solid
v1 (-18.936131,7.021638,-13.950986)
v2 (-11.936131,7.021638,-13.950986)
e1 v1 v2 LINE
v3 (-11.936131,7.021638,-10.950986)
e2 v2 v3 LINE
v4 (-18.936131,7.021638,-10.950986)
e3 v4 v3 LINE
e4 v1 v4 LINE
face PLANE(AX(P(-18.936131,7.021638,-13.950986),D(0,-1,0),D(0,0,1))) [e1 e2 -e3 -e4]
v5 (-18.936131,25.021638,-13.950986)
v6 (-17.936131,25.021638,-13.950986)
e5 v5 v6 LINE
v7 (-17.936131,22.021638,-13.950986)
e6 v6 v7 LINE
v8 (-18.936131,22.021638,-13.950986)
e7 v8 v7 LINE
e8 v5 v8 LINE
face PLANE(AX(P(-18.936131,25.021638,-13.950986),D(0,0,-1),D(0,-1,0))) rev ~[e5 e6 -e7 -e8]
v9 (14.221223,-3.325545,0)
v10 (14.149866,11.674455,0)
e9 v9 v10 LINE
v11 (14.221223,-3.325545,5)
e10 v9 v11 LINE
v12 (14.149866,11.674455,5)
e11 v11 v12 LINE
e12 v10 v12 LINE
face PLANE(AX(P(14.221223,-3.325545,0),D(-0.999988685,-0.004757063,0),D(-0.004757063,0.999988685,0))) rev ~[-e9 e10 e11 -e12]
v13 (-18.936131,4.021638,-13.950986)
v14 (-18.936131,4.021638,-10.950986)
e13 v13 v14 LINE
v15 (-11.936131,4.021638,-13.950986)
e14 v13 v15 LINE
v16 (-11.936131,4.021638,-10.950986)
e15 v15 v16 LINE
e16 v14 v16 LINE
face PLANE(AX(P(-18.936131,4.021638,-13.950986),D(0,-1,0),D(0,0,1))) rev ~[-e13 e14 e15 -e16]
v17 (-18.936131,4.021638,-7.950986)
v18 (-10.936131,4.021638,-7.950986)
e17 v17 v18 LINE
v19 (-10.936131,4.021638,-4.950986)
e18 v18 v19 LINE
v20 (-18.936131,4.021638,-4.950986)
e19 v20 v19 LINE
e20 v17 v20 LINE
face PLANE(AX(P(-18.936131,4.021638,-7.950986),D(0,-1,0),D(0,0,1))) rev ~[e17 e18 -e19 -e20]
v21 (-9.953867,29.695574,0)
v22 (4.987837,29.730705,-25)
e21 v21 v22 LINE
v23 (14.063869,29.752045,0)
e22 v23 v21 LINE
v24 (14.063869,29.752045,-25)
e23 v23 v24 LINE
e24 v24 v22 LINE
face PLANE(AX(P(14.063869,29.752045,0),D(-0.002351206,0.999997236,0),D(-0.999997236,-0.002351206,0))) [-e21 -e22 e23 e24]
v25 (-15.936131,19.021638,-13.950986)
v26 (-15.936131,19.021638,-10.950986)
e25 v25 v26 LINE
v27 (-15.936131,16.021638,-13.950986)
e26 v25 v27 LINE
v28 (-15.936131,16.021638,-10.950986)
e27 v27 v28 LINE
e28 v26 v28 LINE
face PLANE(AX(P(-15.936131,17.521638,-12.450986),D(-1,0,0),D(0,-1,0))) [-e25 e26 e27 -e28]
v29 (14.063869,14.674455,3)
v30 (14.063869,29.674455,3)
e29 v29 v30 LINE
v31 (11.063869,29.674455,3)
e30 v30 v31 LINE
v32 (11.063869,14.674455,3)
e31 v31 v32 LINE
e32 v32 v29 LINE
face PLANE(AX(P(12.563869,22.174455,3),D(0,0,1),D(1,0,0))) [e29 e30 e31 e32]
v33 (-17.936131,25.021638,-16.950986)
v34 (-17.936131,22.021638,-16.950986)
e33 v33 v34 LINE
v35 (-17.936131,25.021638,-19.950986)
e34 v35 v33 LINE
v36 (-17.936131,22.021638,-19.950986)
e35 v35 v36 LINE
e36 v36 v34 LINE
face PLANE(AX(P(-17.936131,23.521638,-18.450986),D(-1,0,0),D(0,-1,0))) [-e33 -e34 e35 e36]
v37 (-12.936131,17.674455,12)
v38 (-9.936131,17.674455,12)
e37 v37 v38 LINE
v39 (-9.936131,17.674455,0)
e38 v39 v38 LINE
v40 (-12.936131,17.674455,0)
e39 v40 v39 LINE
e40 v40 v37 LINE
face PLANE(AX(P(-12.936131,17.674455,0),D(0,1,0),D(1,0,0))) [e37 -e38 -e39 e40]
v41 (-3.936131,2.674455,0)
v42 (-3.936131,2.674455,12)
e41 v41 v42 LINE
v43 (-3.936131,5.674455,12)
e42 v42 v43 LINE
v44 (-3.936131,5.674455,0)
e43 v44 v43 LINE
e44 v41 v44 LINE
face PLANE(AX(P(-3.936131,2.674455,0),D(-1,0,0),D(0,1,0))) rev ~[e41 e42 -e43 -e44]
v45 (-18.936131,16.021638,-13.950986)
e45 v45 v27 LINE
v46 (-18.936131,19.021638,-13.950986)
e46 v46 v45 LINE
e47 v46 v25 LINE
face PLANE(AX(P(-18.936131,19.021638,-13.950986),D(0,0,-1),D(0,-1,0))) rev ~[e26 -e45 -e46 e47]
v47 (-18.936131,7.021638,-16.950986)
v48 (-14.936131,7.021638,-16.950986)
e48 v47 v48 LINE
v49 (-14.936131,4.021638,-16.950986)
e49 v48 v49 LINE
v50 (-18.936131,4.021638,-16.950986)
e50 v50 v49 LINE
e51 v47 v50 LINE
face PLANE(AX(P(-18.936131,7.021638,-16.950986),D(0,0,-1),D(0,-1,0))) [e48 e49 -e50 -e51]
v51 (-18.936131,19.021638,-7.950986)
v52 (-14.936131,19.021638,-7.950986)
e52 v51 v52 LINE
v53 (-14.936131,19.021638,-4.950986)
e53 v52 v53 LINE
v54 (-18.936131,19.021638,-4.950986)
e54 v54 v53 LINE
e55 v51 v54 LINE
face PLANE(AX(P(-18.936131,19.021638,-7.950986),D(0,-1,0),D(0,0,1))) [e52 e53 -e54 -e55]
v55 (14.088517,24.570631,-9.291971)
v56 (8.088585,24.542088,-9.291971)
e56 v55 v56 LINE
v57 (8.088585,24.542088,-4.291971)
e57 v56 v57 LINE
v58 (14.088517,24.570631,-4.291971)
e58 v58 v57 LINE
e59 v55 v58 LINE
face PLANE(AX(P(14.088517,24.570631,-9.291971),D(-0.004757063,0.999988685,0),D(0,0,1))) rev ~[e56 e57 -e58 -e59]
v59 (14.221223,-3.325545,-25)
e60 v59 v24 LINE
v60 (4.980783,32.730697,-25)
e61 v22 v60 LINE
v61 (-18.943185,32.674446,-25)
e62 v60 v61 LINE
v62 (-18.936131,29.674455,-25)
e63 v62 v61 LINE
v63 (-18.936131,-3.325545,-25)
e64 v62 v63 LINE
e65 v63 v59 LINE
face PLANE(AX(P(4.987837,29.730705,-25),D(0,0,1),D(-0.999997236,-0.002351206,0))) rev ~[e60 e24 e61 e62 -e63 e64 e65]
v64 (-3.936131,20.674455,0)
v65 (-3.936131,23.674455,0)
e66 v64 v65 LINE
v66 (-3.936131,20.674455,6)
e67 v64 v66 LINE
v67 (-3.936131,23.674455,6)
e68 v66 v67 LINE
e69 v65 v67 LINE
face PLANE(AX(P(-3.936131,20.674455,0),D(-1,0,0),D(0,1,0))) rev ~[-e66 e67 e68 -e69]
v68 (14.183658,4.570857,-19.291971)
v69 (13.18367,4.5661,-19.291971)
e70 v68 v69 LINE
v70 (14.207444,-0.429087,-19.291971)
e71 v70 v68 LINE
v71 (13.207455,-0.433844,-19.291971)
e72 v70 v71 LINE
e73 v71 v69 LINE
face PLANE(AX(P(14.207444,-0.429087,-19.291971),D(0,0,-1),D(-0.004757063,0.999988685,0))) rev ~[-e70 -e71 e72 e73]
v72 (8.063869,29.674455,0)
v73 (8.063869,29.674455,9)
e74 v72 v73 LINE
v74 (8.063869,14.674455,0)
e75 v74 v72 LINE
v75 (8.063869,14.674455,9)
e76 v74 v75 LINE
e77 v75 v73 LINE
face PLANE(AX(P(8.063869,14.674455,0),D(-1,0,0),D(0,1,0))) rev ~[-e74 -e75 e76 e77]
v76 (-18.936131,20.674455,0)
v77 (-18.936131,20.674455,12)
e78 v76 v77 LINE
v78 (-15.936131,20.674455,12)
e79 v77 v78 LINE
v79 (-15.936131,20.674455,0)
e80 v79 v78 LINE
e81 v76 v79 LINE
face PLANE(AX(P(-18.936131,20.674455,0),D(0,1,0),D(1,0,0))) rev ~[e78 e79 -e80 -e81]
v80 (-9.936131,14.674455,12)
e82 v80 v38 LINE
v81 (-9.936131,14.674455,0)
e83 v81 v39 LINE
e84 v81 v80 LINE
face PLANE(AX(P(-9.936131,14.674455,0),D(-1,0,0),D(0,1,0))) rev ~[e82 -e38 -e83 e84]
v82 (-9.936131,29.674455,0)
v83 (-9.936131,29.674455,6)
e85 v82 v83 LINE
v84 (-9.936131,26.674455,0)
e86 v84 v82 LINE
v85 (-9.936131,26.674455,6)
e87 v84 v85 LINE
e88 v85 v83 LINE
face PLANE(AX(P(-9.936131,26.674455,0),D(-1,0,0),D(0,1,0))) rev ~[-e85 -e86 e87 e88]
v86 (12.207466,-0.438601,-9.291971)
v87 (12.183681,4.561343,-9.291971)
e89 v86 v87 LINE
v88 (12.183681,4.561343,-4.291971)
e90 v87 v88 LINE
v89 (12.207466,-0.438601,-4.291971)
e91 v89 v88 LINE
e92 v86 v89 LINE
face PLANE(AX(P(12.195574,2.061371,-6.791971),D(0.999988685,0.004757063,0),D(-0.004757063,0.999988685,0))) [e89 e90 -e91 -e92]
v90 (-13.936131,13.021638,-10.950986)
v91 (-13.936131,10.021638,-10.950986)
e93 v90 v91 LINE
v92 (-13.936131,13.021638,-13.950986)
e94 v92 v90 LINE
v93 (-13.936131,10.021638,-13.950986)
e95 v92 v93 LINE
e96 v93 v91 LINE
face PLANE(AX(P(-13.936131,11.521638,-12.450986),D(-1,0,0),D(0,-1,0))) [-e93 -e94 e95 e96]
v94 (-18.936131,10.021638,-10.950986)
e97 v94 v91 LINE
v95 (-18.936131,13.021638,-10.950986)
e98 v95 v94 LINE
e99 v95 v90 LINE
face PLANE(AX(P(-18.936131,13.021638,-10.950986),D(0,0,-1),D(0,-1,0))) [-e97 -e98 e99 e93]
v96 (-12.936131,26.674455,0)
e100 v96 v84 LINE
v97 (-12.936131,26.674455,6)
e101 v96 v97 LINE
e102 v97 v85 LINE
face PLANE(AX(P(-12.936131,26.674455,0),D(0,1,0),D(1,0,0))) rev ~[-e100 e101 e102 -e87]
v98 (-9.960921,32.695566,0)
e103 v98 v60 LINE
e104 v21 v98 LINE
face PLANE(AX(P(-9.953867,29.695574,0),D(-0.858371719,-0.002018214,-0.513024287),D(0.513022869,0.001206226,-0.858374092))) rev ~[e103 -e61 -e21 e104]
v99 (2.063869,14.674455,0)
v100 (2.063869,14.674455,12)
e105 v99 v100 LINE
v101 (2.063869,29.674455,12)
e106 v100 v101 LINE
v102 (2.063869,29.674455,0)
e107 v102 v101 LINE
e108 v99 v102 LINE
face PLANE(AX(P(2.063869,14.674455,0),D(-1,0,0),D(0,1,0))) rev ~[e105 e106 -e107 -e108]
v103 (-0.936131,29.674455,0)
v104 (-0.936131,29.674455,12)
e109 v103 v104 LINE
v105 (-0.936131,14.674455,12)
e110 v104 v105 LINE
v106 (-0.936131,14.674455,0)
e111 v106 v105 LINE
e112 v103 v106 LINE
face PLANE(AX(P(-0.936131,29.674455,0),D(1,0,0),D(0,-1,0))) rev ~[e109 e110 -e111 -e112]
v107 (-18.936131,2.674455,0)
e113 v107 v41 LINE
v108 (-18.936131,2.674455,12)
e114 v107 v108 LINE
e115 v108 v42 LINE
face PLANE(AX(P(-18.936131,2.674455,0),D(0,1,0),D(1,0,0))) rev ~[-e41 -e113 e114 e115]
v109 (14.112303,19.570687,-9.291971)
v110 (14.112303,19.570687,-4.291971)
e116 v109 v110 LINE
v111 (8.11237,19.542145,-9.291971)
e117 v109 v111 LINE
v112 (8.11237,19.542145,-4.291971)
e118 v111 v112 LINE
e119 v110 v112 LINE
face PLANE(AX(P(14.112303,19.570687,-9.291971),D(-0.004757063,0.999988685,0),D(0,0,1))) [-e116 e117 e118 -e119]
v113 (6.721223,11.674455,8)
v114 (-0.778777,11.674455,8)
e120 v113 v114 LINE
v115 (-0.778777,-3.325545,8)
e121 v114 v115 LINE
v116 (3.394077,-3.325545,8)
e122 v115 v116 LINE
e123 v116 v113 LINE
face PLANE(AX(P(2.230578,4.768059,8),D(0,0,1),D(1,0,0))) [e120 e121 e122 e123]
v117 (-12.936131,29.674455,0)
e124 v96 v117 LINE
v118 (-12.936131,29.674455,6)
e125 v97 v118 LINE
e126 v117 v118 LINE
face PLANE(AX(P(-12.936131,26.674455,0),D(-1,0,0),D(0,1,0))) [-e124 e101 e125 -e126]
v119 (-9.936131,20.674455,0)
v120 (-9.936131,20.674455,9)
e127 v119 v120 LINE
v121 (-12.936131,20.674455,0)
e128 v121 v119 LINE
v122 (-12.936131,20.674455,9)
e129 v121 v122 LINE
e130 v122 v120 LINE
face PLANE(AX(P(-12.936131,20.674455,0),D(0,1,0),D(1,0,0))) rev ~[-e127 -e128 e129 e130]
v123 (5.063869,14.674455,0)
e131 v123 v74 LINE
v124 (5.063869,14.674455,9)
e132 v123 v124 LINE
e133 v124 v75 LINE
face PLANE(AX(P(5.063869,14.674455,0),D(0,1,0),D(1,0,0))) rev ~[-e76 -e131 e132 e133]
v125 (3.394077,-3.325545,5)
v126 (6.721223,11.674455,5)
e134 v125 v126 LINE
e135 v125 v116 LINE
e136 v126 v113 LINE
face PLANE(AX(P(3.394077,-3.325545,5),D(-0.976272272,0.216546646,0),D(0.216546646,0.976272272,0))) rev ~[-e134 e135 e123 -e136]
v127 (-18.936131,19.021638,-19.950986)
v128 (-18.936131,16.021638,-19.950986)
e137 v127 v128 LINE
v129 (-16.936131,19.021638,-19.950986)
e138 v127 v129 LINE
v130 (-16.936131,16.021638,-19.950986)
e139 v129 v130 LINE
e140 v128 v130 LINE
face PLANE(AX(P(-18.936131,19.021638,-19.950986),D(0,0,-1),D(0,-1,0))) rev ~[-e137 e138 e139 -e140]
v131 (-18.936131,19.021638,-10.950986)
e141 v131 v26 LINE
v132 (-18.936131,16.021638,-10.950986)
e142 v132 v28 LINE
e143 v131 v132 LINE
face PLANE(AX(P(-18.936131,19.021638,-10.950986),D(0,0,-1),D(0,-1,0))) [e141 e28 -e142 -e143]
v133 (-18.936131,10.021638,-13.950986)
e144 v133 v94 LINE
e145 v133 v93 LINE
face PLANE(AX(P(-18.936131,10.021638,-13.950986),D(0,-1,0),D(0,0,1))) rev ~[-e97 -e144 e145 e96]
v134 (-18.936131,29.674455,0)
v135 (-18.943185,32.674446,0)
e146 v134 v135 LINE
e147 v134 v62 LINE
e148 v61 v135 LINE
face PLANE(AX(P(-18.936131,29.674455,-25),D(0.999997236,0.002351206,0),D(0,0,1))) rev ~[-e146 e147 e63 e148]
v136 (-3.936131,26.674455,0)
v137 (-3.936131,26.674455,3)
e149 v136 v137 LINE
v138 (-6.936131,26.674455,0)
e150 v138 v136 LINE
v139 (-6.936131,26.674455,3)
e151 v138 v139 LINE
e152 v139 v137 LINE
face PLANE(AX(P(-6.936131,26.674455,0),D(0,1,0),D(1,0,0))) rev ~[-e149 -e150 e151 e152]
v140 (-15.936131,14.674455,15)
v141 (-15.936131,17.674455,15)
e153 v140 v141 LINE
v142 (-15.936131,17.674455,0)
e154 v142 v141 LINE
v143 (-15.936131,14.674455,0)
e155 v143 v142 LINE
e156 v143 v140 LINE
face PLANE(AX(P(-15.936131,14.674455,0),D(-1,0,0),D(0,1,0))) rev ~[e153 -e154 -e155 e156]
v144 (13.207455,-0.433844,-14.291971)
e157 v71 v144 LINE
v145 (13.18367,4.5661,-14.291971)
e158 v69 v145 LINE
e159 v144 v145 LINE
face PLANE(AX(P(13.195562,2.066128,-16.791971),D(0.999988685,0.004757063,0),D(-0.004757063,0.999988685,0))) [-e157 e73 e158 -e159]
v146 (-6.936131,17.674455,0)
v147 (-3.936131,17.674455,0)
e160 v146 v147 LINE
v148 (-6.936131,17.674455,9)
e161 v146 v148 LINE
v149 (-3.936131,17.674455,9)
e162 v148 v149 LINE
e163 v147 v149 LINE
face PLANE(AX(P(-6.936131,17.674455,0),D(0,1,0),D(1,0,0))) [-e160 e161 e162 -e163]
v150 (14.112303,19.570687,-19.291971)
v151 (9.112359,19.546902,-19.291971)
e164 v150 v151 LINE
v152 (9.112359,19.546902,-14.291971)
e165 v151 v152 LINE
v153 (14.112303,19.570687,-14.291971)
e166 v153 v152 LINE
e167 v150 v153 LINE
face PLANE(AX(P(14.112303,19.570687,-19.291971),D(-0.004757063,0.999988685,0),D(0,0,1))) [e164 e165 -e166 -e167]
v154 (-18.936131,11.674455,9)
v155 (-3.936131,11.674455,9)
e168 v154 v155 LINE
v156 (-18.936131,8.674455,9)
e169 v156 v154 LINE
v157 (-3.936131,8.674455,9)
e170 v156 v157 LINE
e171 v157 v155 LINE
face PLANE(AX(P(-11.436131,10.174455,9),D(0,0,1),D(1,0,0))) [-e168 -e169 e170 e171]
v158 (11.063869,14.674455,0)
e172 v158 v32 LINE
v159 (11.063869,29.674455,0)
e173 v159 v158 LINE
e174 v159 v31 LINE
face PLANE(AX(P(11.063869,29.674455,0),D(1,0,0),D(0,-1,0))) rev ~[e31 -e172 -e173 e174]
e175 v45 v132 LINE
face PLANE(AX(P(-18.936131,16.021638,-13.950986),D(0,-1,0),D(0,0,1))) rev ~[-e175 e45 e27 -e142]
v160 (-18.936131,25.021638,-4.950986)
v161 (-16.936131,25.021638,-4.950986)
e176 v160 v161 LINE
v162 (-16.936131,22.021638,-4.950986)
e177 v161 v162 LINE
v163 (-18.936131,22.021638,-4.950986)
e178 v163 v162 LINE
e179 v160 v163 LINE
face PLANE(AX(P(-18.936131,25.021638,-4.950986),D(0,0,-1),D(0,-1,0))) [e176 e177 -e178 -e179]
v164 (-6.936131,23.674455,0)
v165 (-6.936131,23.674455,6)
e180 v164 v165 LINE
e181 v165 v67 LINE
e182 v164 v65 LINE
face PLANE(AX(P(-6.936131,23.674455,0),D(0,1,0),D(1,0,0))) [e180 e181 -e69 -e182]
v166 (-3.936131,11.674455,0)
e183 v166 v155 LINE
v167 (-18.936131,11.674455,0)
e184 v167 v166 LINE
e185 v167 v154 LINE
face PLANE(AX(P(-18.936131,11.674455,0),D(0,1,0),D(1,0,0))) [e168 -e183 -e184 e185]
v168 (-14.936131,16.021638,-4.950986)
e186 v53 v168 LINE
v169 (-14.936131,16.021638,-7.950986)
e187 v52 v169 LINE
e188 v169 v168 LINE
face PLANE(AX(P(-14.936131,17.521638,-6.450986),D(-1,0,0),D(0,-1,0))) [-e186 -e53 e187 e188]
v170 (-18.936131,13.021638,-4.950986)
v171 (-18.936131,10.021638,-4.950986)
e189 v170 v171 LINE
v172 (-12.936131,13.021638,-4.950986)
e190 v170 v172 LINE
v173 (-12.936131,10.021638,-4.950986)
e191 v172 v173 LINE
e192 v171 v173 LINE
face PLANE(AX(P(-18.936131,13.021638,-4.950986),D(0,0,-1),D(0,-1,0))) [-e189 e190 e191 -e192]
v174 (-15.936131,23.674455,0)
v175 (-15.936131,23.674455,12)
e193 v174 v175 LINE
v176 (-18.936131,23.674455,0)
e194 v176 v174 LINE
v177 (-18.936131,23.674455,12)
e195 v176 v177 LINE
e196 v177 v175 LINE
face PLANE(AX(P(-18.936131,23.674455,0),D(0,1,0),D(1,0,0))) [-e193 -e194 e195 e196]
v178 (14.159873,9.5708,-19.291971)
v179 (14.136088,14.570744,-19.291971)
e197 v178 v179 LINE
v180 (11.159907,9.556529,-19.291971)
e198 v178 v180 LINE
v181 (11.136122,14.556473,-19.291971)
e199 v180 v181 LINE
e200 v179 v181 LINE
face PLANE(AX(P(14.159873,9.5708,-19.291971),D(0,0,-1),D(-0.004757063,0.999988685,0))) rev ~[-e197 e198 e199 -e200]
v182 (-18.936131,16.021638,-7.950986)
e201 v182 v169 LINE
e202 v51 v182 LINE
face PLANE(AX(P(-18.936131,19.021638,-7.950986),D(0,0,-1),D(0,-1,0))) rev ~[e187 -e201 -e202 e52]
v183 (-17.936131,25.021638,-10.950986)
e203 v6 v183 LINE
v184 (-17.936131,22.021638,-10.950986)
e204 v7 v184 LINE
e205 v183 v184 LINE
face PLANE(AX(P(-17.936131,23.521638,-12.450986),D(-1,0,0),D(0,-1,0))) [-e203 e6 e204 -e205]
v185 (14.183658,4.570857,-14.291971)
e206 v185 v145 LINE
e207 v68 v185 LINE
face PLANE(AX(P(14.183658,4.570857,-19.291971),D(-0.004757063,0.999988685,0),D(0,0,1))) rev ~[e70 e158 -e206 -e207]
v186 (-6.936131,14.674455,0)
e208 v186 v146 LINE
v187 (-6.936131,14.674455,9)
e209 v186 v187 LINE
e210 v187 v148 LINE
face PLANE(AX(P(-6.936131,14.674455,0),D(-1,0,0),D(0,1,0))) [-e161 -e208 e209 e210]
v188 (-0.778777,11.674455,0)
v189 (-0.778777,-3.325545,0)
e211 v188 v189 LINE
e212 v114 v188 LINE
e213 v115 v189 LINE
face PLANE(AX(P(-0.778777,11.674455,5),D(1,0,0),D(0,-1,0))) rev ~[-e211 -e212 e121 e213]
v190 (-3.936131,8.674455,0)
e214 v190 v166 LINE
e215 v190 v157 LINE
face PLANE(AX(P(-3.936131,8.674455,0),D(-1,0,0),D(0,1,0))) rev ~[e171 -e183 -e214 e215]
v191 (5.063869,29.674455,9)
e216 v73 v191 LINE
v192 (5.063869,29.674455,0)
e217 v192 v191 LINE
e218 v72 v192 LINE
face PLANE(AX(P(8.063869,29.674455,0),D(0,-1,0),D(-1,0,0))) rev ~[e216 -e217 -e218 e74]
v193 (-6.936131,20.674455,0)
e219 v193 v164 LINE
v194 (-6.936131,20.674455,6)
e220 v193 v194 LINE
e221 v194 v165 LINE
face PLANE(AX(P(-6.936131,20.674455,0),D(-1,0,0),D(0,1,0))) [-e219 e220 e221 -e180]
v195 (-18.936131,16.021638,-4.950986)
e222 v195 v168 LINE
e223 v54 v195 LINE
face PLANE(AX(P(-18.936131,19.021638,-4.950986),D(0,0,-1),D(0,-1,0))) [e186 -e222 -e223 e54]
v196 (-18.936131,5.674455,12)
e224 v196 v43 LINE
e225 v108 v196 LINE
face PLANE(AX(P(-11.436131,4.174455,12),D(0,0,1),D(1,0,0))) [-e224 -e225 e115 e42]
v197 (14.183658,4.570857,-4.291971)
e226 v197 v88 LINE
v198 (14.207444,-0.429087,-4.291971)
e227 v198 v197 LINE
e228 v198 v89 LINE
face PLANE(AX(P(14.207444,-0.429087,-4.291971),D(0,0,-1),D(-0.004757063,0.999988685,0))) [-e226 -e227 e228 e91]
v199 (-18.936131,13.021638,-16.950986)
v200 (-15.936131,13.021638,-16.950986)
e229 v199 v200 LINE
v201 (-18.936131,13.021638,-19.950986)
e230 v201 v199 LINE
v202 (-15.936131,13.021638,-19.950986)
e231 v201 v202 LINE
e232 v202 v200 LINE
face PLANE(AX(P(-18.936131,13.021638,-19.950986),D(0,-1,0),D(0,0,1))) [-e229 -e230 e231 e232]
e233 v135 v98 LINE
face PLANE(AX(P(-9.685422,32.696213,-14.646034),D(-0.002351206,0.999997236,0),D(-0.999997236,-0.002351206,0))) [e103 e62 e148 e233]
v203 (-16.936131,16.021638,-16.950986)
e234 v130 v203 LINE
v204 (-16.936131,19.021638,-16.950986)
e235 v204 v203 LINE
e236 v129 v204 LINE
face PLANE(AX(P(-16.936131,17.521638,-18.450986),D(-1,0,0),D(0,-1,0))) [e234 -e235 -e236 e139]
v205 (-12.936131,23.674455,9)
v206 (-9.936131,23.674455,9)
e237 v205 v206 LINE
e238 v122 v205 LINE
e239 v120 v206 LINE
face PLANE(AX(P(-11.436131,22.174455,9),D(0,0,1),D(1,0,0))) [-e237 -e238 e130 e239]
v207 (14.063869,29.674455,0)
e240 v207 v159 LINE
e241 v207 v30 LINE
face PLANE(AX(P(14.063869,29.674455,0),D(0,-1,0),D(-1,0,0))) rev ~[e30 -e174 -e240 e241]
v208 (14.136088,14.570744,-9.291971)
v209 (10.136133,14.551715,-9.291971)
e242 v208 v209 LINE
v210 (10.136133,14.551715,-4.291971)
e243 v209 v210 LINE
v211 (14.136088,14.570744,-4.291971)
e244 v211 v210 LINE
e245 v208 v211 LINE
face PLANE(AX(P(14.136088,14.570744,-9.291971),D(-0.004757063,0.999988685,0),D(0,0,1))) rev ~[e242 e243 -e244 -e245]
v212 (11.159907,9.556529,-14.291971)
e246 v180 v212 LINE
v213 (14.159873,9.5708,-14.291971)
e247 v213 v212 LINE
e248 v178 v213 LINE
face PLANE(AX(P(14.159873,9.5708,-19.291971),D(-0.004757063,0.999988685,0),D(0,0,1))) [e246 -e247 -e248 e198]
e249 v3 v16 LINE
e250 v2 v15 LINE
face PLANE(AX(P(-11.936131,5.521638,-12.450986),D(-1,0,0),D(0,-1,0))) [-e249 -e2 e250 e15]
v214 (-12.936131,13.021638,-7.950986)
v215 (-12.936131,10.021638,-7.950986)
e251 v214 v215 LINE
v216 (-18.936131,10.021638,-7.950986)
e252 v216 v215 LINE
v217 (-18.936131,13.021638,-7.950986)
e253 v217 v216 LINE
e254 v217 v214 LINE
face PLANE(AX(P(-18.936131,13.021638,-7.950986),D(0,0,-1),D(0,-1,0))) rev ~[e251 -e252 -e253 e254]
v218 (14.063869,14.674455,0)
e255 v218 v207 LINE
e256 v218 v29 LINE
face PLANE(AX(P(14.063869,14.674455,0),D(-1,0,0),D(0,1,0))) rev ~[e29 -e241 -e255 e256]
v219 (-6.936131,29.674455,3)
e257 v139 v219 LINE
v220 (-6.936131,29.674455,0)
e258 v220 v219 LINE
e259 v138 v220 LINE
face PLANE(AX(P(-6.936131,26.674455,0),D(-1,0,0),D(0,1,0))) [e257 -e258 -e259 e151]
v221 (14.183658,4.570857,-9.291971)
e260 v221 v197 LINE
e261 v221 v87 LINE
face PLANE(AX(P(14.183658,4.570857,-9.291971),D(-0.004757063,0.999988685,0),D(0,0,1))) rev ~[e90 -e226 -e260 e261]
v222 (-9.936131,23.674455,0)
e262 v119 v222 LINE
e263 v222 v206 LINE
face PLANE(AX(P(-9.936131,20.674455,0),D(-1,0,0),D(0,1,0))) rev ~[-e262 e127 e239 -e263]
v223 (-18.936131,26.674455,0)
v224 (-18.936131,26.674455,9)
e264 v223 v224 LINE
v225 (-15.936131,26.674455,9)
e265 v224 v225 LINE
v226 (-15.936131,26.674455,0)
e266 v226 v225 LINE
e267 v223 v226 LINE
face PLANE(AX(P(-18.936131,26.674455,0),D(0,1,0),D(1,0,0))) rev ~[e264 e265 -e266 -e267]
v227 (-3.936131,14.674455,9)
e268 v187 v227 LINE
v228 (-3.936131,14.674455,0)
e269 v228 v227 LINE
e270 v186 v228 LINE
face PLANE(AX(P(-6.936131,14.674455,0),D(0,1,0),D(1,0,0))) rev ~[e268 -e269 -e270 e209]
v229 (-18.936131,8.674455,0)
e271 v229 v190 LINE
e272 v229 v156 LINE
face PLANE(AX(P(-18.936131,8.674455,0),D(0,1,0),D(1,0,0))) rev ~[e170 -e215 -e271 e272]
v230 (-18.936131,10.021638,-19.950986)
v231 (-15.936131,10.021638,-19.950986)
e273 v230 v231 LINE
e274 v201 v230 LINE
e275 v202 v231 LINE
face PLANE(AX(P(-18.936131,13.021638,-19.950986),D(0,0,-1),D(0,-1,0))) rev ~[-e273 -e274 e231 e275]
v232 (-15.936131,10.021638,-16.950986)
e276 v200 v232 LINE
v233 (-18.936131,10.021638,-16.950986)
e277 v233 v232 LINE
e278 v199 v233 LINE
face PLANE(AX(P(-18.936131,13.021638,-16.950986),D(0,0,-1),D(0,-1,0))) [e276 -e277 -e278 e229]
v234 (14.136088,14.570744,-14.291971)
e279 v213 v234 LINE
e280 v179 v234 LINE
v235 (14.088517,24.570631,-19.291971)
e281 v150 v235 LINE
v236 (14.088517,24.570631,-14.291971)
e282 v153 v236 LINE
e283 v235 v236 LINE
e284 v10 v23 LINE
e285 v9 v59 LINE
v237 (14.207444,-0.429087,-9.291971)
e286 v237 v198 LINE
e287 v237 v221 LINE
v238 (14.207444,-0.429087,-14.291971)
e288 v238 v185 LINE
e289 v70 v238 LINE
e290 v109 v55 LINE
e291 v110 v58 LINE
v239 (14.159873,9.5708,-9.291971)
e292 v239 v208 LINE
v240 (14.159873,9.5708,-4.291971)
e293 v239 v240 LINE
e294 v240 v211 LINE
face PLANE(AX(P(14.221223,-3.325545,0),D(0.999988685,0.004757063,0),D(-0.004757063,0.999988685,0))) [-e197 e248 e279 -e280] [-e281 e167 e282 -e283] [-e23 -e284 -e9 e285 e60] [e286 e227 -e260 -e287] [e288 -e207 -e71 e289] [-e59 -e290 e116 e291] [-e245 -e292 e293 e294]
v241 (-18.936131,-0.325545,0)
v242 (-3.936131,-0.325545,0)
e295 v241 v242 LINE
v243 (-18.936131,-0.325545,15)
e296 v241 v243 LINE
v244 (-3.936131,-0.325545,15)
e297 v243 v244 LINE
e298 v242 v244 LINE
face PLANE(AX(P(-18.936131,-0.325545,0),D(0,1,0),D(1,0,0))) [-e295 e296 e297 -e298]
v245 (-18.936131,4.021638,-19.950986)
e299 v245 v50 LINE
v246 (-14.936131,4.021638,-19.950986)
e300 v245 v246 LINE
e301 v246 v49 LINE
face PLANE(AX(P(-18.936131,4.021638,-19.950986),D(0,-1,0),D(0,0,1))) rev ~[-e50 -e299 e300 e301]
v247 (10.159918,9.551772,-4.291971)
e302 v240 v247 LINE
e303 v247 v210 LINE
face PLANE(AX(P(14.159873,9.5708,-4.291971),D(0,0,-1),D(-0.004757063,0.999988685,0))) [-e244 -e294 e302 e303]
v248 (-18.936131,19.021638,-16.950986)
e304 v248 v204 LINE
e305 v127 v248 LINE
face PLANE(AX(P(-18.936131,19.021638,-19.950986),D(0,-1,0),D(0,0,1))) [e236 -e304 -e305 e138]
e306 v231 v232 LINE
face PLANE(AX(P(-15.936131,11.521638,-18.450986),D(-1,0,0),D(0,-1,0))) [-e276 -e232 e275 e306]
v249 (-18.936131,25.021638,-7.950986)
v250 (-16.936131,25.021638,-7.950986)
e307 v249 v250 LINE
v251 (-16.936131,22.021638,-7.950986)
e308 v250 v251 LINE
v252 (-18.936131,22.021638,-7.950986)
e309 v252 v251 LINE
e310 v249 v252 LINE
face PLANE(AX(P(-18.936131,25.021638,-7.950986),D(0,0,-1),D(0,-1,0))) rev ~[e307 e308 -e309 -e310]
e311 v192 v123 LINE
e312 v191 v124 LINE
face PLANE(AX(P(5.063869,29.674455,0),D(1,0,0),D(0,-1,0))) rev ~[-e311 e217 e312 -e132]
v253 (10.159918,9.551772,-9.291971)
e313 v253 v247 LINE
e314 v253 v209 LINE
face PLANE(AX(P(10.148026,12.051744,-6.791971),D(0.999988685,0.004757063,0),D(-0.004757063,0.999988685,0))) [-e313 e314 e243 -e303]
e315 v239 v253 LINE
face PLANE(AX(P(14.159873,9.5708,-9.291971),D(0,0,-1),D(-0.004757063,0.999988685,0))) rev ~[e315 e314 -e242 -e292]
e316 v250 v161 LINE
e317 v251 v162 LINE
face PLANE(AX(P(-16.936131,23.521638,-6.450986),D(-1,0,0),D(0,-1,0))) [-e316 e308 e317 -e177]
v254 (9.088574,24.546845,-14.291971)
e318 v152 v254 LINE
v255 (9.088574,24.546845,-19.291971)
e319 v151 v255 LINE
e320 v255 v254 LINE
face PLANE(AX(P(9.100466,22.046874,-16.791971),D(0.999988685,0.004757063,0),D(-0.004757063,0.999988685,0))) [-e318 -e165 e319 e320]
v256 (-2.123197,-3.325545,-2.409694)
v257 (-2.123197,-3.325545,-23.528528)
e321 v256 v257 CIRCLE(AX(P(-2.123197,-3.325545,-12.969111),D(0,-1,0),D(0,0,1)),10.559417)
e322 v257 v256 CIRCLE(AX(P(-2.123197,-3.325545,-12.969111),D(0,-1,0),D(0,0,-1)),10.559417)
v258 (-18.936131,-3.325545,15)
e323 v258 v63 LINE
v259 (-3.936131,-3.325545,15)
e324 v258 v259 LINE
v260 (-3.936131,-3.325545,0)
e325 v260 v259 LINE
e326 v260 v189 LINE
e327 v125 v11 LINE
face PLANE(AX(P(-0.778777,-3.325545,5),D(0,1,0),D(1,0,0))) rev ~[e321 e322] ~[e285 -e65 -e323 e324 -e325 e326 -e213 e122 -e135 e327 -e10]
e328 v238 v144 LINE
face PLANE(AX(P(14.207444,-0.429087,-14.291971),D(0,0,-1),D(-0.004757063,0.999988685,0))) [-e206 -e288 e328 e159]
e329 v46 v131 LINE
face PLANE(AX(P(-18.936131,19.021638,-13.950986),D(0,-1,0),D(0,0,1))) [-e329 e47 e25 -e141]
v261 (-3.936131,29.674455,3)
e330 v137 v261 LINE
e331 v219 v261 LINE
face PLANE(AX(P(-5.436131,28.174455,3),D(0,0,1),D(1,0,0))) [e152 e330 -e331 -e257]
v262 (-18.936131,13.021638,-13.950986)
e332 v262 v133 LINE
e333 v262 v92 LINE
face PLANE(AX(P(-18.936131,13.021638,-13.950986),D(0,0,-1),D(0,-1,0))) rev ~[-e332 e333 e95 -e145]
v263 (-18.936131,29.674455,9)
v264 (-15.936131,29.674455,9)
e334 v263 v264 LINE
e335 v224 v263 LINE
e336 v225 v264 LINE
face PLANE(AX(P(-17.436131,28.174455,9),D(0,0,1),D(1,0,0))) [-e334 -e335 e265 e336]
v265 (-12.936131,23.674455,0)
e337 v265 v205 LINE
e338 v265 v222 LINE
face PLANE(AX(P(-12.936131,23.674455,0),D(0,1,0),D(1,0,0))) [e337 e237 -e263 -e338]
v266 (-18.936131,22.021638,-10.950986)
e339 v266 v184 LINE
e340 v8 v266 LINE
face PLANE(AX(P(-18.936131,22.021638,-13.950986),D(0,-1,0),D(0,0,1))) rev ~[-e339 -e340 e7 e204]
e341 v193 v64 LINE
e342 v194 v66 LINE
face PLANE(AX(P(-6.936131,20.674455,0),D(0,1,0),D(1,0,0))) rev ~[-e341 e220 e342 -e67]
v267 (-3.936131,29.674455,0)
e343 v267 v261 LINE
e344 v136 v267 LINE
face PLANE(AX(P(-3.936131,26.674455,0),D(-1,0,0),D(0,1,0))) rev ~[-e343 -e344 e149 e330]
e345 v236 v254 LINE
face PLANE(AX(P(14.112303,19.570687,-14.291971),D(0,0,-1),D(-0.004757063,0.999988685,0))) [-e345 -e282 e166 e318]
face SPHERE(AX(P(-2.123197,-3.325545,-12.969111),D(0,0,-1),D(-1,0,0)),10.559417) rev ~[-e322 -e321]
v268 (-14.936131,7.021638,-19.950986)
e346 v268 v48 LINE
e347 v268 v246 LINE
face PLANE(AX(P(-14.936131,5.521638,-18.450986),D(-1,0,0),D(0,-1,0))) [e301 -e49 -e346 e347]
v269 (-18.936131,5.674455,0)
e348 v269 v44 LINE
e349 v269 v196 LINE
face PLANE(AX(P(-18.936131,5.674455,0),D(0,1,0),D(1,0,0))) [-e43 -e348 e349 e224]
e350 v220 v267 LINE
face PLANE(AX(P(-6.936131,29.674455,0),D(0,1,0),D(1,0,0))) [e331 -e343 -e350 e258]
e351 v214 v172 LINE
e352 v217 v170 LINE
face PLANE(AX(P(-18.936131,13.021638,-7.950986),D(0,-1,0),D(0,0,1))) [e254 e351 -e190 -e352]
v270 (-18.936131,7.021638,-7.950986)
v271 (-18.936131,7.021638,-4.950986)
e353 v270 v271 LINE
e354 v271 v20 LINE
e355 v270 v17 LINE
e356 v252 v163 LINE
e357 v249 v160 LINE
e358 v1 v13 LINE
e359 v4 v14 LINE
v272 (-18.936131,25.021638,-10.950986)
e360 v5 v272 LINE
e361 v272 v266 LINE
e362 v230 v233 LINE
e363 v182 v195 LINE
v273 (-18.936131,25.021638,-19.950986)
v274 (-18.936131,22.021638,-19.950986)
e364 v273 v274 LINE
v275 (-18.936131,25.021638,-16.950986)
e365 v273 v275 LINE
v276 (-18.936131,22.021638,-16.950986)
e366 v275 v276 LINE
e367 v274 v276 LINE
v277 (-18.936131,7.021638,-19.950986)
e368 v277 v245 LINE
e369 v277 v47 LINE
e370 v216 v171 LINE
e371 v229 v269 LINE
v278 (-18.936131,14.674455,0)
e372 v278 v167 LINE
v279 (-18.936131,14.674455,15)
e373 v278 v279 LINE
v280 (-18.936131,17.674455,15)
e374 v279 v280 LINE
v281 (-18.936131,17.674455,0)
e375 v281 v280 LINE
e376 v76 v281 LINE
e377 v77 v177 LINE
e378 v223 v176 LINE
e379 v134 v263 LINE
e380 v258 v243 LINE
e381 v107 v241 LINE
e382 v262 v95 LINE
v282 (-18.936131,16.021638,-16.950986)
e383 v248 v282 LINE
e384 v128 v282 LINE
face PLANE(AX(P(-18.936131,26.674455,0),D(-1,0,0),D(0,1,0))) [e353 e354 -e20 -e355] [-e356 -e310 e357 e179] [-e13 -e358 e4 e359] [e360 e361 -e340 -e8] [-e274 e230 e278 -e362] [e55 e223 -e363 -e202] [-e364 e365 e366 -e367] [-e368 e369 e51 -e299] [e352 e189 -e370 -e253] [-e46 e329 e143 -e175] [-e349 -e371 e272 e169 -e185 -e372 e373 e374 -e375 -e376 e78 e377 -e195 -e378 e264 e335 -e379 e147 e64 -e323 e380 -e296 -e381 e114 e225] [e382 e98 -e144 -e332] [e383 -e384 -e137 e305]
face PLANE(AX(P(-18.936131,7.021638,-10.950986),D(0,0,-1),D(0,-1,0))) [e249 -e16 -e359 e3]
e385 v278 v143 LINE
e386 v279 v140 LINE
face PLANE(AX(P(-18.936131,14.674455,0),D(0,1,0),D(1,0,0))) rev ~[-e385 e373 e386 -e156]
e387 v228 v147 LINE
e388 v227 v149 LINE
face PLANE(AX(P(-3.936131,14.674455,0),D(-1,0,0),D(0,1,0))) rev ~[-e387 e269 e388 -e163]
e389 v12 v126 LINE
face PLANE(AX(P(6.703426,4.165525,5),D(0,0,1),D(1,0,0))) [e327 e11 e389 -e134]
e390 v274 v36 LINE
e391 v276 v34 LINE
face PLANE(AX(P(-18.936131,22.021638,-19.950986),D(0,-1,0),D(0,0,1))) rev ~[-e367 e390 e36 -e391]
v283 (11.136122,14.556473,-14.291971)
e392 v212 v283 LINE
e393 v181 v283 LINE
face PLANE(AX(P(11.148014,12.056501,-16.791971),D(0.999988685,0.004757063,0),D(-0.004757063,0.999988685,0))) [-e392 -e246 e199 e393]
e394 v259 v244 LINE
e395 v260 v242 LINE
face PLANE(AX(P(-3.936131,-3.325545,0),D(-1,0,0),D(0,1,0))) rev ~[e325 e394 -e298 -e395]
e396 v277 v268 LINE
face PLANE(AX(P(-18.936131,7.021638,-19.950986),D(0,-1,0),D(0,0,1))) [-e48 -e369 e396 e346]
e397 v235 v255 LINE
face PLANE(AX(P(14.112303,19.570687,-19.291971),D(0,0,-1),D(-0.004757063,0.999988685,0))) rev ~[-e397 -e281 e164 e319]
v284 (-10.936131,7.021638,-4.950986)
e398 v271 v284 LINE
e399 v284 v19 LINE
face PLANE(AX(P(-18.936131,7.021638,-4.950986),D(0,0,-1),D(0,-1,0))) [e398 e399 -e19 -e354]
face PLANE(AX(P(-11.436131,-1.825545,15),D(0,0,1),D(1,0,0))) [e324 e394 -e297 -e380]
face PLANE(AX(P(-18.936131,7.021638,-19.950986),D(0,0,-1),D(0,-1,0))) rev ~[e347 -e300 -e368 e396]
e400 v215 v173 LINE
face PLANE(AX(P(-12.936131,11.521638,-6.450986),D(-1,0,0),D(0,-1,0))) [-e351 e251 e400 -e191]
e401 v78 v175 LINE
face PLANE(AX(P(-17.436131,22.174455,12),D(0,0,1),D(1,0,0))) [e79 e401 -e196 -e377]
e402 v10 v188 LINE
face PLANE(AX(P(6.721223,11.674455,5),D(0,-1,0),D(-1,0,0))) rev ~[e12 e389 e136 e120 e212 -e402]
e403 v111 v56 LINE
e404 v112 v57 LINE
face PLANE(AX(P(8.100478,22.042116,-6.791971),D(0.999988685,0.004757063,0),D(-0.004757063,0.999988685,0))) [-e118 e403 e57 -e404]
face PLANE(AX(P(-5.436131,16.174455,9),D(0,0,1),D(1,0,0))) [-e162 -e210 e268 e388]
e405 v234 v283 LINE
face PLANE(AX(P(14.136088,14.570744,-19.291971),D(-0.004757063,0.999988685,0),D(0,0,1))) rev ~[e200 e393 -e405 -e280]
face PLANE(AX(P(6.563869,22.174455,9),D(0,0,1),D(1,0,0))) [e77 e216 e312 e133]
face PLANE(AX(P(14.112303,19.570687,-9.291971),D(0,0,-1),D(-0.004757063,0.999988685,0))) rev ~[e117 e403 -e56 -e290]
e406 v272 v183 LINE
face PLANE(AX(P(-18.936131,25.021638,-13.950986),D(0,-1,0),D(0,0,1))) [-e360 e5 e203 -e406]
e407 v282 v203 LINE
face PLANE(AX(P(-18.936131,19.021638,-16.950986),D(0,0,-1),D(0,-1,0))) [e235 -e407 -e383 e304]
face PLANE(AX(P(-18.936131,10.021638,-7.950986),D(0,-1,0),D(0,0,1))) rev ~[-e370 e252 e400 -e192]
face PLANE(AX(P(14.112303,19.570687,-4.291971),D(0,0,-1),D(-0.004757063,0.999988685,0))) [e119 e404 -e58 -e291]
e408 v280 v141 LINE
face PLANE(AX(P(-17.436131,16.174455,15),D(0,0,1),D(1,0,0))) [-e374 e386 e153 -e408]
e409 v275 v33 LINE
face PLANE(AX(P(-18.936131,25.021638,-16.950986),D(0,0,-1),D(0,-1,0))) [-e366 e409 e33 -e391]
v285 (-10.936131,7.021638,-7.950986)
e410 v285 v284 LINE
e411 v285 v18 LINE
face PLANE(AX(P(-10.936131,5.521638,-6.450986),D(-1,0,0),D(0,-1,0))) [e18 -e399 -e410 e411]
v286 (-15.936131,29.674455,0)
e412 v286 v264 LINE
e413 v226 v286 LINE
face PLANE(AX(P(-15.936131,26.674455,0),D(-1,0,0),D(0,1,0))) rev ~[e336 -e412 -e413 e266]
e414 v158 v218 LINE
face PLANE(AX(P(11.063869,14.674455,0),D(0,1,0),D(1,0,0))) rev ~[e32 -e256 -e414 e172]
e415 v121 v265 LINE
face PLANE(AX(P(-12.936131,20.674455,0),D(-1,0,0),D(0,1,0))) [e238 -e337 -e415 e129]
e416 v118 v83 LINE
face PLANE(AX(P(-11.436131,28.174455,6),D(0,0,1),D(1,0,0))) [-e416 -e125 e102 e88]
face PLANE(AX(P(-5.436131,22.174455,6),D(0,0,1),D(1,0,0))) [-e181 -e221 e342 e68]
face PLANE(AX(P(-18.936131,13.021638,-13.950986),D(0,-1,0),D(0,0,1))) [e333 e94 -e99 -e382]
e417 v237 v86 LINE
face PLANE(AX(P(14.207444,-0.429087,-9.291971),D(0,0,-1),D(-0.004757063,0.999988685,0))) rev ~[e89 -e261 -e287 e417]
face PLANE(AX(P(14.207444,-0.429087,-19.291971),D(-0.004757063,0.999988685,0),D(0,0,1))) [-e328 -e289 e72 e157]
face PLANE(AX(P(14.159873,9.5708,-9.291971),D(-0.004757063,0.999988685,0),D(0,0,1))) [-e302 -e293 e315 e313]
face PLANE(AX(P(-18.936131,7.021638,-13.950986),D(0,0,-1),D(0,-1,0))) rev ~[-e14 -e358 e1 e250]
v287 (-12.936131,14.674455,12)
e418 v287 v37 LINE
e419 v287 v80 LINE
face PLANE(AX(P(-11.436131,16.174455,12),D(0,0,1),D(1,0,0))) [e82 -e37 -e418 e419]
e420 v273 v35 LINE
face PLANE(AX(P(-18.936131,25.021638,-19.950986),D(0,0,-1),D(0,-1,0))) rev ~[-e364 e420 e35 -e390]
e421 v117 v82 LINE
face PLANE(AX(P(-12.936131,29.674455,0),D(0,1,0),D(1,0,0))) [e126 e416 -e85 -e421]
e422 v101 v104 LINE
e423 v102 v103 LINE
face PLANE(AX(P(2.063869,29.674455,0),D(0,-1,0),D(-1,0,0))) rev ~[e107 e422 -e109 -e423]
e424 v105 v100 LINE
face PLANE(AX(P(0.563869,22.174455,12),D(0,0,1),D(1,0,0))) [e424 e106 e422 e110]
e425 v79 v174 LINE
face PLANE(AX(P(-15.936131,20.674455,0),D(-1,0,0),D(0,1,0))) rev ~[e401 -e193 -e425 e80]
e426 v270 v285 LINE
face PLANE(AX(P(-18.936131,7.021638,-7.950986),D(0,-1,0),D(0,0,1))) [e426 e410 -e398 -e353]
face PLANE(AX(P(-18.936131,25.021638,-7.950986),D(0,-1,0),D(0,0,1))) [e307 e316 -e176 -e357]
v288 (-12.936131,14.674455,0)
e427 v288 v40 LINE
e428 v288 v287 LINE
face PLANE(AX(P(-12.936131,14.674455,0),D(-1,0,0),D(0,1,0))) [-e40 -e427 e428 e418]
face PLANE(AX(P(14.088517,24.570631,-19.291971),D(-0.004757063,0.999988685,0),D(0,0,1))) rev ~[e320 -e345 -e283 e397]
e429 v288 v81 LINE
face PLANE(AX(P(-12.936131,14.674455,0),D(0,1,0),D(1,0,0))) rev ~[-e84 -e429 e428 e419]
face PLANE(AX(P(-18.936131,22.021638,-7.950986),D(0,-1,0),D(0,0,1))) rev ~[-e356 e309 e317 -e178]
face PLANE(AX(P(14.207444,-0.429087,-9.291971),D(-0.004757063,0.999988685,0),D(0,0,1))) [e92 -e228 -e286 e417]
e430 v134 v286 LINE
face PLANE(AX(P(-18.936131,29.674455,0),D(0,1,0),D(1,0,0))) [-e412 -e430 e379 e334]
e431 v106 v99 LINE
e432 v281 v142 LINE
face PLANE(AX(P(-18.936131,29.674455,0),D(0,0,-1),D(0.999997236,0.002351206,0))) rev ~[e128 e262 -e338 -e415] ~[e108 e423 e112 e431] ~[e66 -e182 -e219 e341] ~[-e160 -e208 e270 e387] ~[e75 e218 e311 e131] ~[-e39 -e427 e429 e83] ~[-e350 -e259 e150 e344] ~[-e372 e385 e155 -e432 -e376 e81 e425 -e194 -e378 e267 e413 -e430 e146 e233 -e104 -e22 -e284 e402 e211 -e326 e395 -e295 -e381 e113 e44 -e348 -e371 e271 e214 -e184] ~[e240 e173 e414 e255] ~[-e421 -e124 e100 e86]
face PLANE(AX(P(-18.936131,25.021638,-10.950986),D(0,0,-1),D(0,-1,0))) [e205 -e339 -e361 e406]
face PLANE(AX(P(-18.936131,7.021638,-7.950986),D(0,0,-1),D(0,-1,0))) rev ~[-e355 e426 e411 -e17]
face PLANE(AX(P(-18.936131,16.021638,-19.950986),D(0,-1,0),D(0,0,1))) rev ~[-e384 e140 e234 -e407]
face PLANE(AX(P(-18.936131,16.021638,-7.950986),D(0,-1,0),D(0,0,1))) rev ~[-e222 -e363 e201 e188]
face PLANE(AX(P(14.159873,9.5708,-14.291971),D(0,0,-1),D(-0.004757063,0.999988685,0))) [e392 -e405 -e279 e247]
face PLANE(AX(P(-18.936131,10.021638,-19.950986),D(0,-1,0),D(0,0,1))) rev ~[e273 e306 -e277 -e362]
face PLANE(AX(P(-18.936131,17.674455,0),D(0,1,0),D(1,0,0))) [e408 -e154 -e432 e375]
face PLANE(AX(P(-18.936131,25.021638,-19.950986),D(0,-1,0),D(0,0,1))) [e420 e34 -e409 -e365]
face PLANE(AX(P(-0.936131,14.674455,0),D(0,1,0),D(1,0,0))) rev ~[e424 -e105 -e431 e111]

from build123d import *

# Parameters (mm, degrees)
F1_DEPTH  = 5
F0_W      = 15
F0_H      = 3
F2_DEPTH  = 15
F0_W_2    = 3
F3_DEPTH  = 3
F4_DEPTH  = 12
F6_DEPTH  = 25
F10_W     = 5
F10_H     = 5
F11_DEPTH = 2
F12_DEPTH = 12
F13_DEPTH = 9
F14_DEPTH = 6
F15_DEPTH = 9
F16_DEPTH = 9
F17_DEPTH = 15
F18_DEPTH = 12
F19_DEPTH = 6
F20_DEPTH = 9
F21_DEPTH = 12
F22_DEPTH = 9
F23_DEPTH = 3
F24_DEPTH = 4
F25_DEPTH = 6
F26_DEPTH = 1
F27_DEPTH = 3
F28_DEPTH = 5
F9_W      = 3
F9_H      = 3
F29_DEPTH = 2
F30_DEPTH = 4
F31_DEPTH = 6
F32_DEPTH = 8
F33_DEPTH = 1
F34_DEPTH = 3
F35_DEPTH = 5
F36_DEPTH = 7
F37_DEPTH = 1
F38_DEPTH = 2
F39_DEPTH = 3
F40_DEPTH = 4
F42_DEPTH = 3
F44_DEPTH = 3


with BuildPart() as f1:
    # F0 (on Top) → F1 (new body)
    with BuildSketch(Plane.XY):
        Polygon((14.2212225916, -3.3255452978), (14.1498658388, 11.6744547022), (-0.7787774084, 11.6744547022), (-0.7787774084, -3.3255452978), align=None)
    extrude(amount=F1_DEPTH)



with BuildPart() as f2:
    # F0 (on Top) → F2 (new body)
    with BuildSketch(Plane.XY):
        with Locations((-11.4361313693, -1.8255452978)):
            Rectangle(F0_W, F0_H)
    extrude(amount=F2_DEPTH)


with BuildPart() as f3:
    # F0 (on Top) → F3 (new body)
    with BuildSketch(Plane.XY):
        with Locations((-5.4361313693, 28.1744547022)):
            Rectangle(F0_W_2, F0_H)
    extrude(amount=F3_DEPTH)


with BuildPart() as f4:
    # F0 (on Top) → F4 (new body)
    with BuildSketch(Plane.XY):
        Polygon((2.0638686307, 29.6744547022), (-0.9361313693, 29.6744547022), (-0.9361313693, 14.7520447022), (-0.9361313693, 14.6744547022), (2.0638686307, 14.6744547022), (2.0638686307, 14.7520447022), align=None)
    extrude(amount=F4_DEPTH)


with BuildPart() as f1_1:
    add(f1.part)

    add(f2.part)  # F6 merges F2

    add(f3.part)  # F6 merges F3

    add(f4.part)  # F6 merges F4
    # F5 (on Top) → F6 (join)
    with BuildSketch(Plane.XY):
        Polygon((-18.9361313693, -3.3255452978), (14.2212225916, -3.3255452978), (14.0638686307, 29.7520447022), (-18.9361313693, 29.6744547022), align=None)
    extrude(amount=-F6_DEPTH)

    # F7 (on face) → F8 (revolve, cut)
    with BuildSketch(Plane.XZ.offset(3.3255452978)):
        with BuildLine():
            Line((-2.1231973078, -23.52852803), (-2.1231973078, -2.4096941548))
            ThreePointArc((-2.1231973078, -2.4096941548), (-12.6826142454, -12.9691110924), (-2.1231973078, -23.52852803))
        make_face()
    revolve(axis=Axis((-2.1231973078, -3.3255452978, -12.9691110924), (0, 0, -1)), mode=Mode.SUBTRACT)

    # F10 (on face) → F11 (cut)
    with BuildSketch(Plane(origin=(14.2050811207, 0.0675752308, 0), x_dir=(-0.004757063, 0.9999886851, 0), z_dir=(0.9999886851, 0.004757063, 0))):
        with Locations((2.0033325977, -6.7919711024)):
            Rectangle(F10_W, F10_H)
    extrude(amount=-F11_DEPTH, mode=Mode.SUBTRACT)

    # F0 (on Top) → F12 (join)
    with BuildSketch(Plane.XY):
        with Locations((-11.4361313693, 4.1744547022)):
            Rectangle(F0_W, F0_H)
    extrude(amount=F12_DEPTH)

    # F0 (on Top) → F13 (join)
    with BuildSketch(Plane.XY):
        with Locations((-11.4361313693, 10.1744547022)):
            Rectangle(F0_W, F0_H)
    extrude(amount=F13_DEPTH)

    # F0 (on Top) → F14 (join)
    with BuildSketch(Plane.XY):
        with Locations((-11.4361313693, 28.1744547022)):
            Rectangle(F0_W_2, F0_H)
    extrude(amount=F14_DEPTH)

    # F0 (on Top) → F15 (join)
    with BuildSketch(Plane.XY):
        with Locations((-17.4361313693, 28.1744547022)):
            Rectangle(F0_W_2, F0_H)
    extrude(amount=F15_DEPTH)

    # F0 (on Top) → F16 (join)
    with BuildSketch(Plane.XY):
        with Locations((-11.4361313693, 22.1744547022)):
            Rectangle(F0_W_2, F0_H)
    extrude(amount=F16_DEPTH)

    # F0 (on Top) → F17 (join)
    with BuildSketch(Plane.XY):
        with Locations((-17.4361313693, 16.1744547022)):
            Rectangle(F0_W_2, F0_H)
    extrude(amount=F17_DEPTH)

    # F0 (on Top) → F18 (join)
    with BuildSketch(Plane.XY):
        with Locations((-17.4361313693, 22.1744547022)):
            Rectangle(F0_W_2, F0_H)
    extrude(amount=F18_DEPTH)

    # F0 (on Top) → F19 (join)
    with BuildSketch(Plane.XY):
        with Locations((-5.4361313693, 22.1744547022)):
            Rectangle(F0_W_2, F0_H)
    extrude(amount=F19_DEPTH)

    # F0 (on Top) → F20 (join)
    with BuildSketch(Plane.XY):
        with Locations((-5.4361313693, 16.1744547022)):
            Rectangle(F0_W_2, F0_H)
    extrude(amount=F20_DEPTH)

    # F0 (on Top) → F21 (join)
    with BuildSketch(Plane.XY):
        with Locations((-11.4361313693, 16.1744547022)):
            Rectangle(F0_W_2, F0_H)
    extrude(amount=F21_DEPTH)

    # F0 (on Top) → F22 (join)
    with BuildSketch(Plane.XY):
        Polygon((8.0638686307, 29.6744547022), (5.0638686307, 29.6744547022), (5.0638686307, 14.7520447022), (5.0638686307, 14.6744547022), (8.0638686307, 14.6744547022), (8.0638686307, 14.7520447022), align=None)
    extrude(amount=F22_DEPTH)

    # F0 (on Top) → F23 (join)
    with BuildSketch(Plane.XY):
        Polygon((14.0638686307, 29.6744547022), (11.0638686307, 29.6744547022), (11.0638686307, 14.7520447022), (11.0638686307, 14.6744547022), (14.0638686307, 14.6744547022), (14.0638686307, 14.7520447022), align=None)
    extrude(amount=F23_DEPTH)

    # F10 (on face) → F24 (cut)
    with BuildSketch(Plane(origin=(14.2050811207, 0.0675752308, 0), x_dir=(-0.004757063, 0.9999886851, 0), z_dir=(0.9999886851, 0.004757063, 0))):
        with Locations((12.0033325977, -6.7919711024)):
            Rectangle(F10_W, F10_H)
    extrude(amount=-F24_DEPTH, mode=Mode.SUBTRACT)

    # F10 (on face) → F25 (cut)
    with BuildSketch(Plane(origin=(14.2050811207, 0.0675752308, 0), x_dir=(-0.004757063, 0.9999886851, 0), z_dir=(0.9999886851, 0.004757063, 0))):
        with Locations((22.0033325977, -6.7919711024)):
            Rectangle(F10_W, F10_H)
    extrude(amount=-F25_DEPTH, mode=Mode.SUBTRACT)

    # F10 (on face) → F26 (cut)
    with BuildSketch(Plane(origin=(14.2050811207, 0.0675752308, 0), x_dir=(-0.004757063, 0.9999886851, 0), z_dir=(0.9999886851, 0.004757063, 0))):
        with Locations((2.0033325977, -16.7919711024)):
            Rectangle(F10_W, F10_H)
    extrude(amount=-F26_DEPTH, mode=Mode.SUBTRACT)

    # F10 (on face) → F27 (cut)
    with BuildSketch(Plane(origin=(14.2050811207, 0.0675752308, 0), x_dir=(-0.004757063, 0.9999886851, 0), z_dir=(0.9999886851, 0.004757063, 0))):
        with Locations((12.0033325977, -16.7919711024)):
            Rectangle(F10_W, F10_H)
    extrude(amount=-F27_DEPTH, mode=Mode.SUBTRACT)

    # F10 (on face) → F28 (cut)
    with BuildSketch(Plane(origin=(14.2050811207, 0.0675752308, 0), x_dir=(-0.004757063, 0.9999886851, 0), z_dir=(0.9999886851, 0.004757063, 0))):
        with Locations((22.0033325977, -16.7919711024)):
            Rectangle(F10_W, F10_H)
    extrude(amount=-F28_DEPTH, mode=Mode.SUBTRACT)

    # F9 (on face) → F29 (cut)
    with BuildSketch(Plane(origin=(-18.9361313693, 0, 0), x_dir=(0, -1, 0), z_dir=(-1, 0, 0))):
        with Locations((-23.521638004, -6.4509857927)):
            Rectangle(F9_W, F9_H)
    extrude(amount=-F29_DEPTH, mode=Mode.SUBTRACT)

    # F9 (on face) → F30 (cut)
    with BuildSketch(Plane(origin=(-18.9361313693, 0, 0), x_dir=(0, -1, 0), z_dir=(-1, 0, 0))):
        with Locations((-17.521638004, -6.4509857927)):
            Rectangle(F9_W, F9_H)
    extrude(amount=-F30_DEPTH, mode=Mode.SUBTRACT)

    # F9 (on face) → F31 (cut)
    with BuildSketch(Plane(origin=(-18.9361313693, 0, 0), x_dir=(0, -1, 0), z_dir=(-1, 0, 0))):
        with Locations((-11.521638004, -6.4509857927)):
            Rectangle(F9_W, F9_H)
    extrude(amount=-F31_DEPTH, mode=Mode.SUBTRACT)

    # F9 (on face) → F32 (cut)
    with BuildSketch(Plane(origin=(-18.9361313693, 0, 0), x_dir=(0, -1, 0), z_dir=(-1, 0, 0))):
        with Locations((-5.521638004, -6.4509857927)):
            Rectangle(F9_W, F9_H)
    extrude(amount=-F32_DEPTH, mode=Mode.SUBTRACT)

    # F9 (on face) → F33 (cut)
    with BuildSketch(Plane(origin=(-18.9361313693, 0, 0), x_dir=(0, -1, 0), z_dir=(-1, 0, 0))):
        with Locations((-23.521638004, -12.4509857927)):
            Rectangle(F9_W, F9_H)
    extrude(amount=-F33_DEPTH, mode=Mode.SUBTRACT)

    # F9 (on face) → F34 (cut)
    with BuildSketch(Plane(origin=(-18.9361313693, 0, 0), x_dir=(0, -1, 0), z_dir=(-1, 0, 0))):
        with Locations((-17.521638004, -12.4509857927)):
            Rectangle(F9_W, F9_H)
    extrude(amount=-F34_DEPTH, mode=Mode.SUBTRACT)

    # F9 (on face) → F35 (cut)
    with BuildSketch(Plane(origin=(-18.9361313693, 0, 0), x_dir=(0, -1, 0), z_dir=(-1, 0, 0))):
        with Locations((-11.521638004, -12.4509857927)):
            Rectangle(F9_W, F9_H)
    extrude(amount=-F35_DEPTH, mode=Mode.SUBTRACT)

    # F9 (on face) → F36 (cut)
    with BuildSketch(Plane(origin=(-18.9361313693, 0, 0), x_dir=(0, -1, 0), z_dir=(-1, 0, 0))):
        with Locations((-5.521638004, -12.4509857927)):
            Rectangle(F9_W, F9_H)
    extrude(amount=-F36_DEPTH, mode=Mode.SUBTRACT)

    # F9 (on face) → F37 (cut)
    with BuildSketch(Plane(origin=(-18.9361313693, 0, 0), x_dir=(0, -1, 0), z_dir=(-1, 0, 0))):
        with Locations((-23.521638004, -18.4509857927)):
            Rectangle(F9_W, F9_H)
    extrude(amount=-F37_DEPTH, mode=Mode.SUBTRACT)

    # F9 (on face) → F38 (cut)
    with BuildSketch(Plane(origin=(-18.9361313693, 0, 0), x_dir=(0, -1, 0), z_dir=(-1, 0, 0))):
        with Locations((-17.521638004, -18.4509857927)):
            Rectangle(F9_W, F9_H)
    extrude(amount=-F38_DEPTH, mode=Mode.SUBTRACT)

    # F9 (on face) → F39 (cut)
    with BuildSketch(Plane(origin=(-18.9361313693, 0, 0), x_dir=(0, -1, 0), z_dir=(-1, 0, 0))):
        with Locations((-11.521638004, -18.4509857927)):
            Rectangle(F9_W, F9_H)
    extrude(amount=-F39_DEPTH, mode=Mode.SUBTRACT)

    # F9 (on face) → F40 (cut)
    with BuildSketch(Plane(origin=(-18.9361313693, 0, 0), x_dir=(0, -1, 0), z_dir=(-1, 0, 0))):
        with Locations((-5.521638004, -18.4509857927)):
            Rectangle(F9_W, F9_H)
    extrude(amount=-F40_DEPTH, mode=Mode.SUBTRACT)

    # F41 (on face) → F42 (join)
    with BuildSketch(Plane.XY.offset(5)):
        Polygon((-0.7787774084, -3.3255452978), (3.3940772992, -3.3255452978), (6.7212225916, 11.6744547022), (-0.7787774084, 11.6744547022), align=None)
    extrude(amount=F42_DEPTH)

    # F43 (on face) → F44 (join)
    with BuildSketch(Plane(origin=(-0.069875234, 29.7188132724, 0), x_dir=(-0.9999972359, -0.0023512056, 0), z_dir=(-0.0023512056, 0.9999972359, 0))):
        Polygon((18.8663082835, 0), (9.8840193823, 0), (-5.0577260554, -25), (18.8663082835, -25), align=None)
    extrude(amount=F44_DEPTH)


solid = f1_1.part
